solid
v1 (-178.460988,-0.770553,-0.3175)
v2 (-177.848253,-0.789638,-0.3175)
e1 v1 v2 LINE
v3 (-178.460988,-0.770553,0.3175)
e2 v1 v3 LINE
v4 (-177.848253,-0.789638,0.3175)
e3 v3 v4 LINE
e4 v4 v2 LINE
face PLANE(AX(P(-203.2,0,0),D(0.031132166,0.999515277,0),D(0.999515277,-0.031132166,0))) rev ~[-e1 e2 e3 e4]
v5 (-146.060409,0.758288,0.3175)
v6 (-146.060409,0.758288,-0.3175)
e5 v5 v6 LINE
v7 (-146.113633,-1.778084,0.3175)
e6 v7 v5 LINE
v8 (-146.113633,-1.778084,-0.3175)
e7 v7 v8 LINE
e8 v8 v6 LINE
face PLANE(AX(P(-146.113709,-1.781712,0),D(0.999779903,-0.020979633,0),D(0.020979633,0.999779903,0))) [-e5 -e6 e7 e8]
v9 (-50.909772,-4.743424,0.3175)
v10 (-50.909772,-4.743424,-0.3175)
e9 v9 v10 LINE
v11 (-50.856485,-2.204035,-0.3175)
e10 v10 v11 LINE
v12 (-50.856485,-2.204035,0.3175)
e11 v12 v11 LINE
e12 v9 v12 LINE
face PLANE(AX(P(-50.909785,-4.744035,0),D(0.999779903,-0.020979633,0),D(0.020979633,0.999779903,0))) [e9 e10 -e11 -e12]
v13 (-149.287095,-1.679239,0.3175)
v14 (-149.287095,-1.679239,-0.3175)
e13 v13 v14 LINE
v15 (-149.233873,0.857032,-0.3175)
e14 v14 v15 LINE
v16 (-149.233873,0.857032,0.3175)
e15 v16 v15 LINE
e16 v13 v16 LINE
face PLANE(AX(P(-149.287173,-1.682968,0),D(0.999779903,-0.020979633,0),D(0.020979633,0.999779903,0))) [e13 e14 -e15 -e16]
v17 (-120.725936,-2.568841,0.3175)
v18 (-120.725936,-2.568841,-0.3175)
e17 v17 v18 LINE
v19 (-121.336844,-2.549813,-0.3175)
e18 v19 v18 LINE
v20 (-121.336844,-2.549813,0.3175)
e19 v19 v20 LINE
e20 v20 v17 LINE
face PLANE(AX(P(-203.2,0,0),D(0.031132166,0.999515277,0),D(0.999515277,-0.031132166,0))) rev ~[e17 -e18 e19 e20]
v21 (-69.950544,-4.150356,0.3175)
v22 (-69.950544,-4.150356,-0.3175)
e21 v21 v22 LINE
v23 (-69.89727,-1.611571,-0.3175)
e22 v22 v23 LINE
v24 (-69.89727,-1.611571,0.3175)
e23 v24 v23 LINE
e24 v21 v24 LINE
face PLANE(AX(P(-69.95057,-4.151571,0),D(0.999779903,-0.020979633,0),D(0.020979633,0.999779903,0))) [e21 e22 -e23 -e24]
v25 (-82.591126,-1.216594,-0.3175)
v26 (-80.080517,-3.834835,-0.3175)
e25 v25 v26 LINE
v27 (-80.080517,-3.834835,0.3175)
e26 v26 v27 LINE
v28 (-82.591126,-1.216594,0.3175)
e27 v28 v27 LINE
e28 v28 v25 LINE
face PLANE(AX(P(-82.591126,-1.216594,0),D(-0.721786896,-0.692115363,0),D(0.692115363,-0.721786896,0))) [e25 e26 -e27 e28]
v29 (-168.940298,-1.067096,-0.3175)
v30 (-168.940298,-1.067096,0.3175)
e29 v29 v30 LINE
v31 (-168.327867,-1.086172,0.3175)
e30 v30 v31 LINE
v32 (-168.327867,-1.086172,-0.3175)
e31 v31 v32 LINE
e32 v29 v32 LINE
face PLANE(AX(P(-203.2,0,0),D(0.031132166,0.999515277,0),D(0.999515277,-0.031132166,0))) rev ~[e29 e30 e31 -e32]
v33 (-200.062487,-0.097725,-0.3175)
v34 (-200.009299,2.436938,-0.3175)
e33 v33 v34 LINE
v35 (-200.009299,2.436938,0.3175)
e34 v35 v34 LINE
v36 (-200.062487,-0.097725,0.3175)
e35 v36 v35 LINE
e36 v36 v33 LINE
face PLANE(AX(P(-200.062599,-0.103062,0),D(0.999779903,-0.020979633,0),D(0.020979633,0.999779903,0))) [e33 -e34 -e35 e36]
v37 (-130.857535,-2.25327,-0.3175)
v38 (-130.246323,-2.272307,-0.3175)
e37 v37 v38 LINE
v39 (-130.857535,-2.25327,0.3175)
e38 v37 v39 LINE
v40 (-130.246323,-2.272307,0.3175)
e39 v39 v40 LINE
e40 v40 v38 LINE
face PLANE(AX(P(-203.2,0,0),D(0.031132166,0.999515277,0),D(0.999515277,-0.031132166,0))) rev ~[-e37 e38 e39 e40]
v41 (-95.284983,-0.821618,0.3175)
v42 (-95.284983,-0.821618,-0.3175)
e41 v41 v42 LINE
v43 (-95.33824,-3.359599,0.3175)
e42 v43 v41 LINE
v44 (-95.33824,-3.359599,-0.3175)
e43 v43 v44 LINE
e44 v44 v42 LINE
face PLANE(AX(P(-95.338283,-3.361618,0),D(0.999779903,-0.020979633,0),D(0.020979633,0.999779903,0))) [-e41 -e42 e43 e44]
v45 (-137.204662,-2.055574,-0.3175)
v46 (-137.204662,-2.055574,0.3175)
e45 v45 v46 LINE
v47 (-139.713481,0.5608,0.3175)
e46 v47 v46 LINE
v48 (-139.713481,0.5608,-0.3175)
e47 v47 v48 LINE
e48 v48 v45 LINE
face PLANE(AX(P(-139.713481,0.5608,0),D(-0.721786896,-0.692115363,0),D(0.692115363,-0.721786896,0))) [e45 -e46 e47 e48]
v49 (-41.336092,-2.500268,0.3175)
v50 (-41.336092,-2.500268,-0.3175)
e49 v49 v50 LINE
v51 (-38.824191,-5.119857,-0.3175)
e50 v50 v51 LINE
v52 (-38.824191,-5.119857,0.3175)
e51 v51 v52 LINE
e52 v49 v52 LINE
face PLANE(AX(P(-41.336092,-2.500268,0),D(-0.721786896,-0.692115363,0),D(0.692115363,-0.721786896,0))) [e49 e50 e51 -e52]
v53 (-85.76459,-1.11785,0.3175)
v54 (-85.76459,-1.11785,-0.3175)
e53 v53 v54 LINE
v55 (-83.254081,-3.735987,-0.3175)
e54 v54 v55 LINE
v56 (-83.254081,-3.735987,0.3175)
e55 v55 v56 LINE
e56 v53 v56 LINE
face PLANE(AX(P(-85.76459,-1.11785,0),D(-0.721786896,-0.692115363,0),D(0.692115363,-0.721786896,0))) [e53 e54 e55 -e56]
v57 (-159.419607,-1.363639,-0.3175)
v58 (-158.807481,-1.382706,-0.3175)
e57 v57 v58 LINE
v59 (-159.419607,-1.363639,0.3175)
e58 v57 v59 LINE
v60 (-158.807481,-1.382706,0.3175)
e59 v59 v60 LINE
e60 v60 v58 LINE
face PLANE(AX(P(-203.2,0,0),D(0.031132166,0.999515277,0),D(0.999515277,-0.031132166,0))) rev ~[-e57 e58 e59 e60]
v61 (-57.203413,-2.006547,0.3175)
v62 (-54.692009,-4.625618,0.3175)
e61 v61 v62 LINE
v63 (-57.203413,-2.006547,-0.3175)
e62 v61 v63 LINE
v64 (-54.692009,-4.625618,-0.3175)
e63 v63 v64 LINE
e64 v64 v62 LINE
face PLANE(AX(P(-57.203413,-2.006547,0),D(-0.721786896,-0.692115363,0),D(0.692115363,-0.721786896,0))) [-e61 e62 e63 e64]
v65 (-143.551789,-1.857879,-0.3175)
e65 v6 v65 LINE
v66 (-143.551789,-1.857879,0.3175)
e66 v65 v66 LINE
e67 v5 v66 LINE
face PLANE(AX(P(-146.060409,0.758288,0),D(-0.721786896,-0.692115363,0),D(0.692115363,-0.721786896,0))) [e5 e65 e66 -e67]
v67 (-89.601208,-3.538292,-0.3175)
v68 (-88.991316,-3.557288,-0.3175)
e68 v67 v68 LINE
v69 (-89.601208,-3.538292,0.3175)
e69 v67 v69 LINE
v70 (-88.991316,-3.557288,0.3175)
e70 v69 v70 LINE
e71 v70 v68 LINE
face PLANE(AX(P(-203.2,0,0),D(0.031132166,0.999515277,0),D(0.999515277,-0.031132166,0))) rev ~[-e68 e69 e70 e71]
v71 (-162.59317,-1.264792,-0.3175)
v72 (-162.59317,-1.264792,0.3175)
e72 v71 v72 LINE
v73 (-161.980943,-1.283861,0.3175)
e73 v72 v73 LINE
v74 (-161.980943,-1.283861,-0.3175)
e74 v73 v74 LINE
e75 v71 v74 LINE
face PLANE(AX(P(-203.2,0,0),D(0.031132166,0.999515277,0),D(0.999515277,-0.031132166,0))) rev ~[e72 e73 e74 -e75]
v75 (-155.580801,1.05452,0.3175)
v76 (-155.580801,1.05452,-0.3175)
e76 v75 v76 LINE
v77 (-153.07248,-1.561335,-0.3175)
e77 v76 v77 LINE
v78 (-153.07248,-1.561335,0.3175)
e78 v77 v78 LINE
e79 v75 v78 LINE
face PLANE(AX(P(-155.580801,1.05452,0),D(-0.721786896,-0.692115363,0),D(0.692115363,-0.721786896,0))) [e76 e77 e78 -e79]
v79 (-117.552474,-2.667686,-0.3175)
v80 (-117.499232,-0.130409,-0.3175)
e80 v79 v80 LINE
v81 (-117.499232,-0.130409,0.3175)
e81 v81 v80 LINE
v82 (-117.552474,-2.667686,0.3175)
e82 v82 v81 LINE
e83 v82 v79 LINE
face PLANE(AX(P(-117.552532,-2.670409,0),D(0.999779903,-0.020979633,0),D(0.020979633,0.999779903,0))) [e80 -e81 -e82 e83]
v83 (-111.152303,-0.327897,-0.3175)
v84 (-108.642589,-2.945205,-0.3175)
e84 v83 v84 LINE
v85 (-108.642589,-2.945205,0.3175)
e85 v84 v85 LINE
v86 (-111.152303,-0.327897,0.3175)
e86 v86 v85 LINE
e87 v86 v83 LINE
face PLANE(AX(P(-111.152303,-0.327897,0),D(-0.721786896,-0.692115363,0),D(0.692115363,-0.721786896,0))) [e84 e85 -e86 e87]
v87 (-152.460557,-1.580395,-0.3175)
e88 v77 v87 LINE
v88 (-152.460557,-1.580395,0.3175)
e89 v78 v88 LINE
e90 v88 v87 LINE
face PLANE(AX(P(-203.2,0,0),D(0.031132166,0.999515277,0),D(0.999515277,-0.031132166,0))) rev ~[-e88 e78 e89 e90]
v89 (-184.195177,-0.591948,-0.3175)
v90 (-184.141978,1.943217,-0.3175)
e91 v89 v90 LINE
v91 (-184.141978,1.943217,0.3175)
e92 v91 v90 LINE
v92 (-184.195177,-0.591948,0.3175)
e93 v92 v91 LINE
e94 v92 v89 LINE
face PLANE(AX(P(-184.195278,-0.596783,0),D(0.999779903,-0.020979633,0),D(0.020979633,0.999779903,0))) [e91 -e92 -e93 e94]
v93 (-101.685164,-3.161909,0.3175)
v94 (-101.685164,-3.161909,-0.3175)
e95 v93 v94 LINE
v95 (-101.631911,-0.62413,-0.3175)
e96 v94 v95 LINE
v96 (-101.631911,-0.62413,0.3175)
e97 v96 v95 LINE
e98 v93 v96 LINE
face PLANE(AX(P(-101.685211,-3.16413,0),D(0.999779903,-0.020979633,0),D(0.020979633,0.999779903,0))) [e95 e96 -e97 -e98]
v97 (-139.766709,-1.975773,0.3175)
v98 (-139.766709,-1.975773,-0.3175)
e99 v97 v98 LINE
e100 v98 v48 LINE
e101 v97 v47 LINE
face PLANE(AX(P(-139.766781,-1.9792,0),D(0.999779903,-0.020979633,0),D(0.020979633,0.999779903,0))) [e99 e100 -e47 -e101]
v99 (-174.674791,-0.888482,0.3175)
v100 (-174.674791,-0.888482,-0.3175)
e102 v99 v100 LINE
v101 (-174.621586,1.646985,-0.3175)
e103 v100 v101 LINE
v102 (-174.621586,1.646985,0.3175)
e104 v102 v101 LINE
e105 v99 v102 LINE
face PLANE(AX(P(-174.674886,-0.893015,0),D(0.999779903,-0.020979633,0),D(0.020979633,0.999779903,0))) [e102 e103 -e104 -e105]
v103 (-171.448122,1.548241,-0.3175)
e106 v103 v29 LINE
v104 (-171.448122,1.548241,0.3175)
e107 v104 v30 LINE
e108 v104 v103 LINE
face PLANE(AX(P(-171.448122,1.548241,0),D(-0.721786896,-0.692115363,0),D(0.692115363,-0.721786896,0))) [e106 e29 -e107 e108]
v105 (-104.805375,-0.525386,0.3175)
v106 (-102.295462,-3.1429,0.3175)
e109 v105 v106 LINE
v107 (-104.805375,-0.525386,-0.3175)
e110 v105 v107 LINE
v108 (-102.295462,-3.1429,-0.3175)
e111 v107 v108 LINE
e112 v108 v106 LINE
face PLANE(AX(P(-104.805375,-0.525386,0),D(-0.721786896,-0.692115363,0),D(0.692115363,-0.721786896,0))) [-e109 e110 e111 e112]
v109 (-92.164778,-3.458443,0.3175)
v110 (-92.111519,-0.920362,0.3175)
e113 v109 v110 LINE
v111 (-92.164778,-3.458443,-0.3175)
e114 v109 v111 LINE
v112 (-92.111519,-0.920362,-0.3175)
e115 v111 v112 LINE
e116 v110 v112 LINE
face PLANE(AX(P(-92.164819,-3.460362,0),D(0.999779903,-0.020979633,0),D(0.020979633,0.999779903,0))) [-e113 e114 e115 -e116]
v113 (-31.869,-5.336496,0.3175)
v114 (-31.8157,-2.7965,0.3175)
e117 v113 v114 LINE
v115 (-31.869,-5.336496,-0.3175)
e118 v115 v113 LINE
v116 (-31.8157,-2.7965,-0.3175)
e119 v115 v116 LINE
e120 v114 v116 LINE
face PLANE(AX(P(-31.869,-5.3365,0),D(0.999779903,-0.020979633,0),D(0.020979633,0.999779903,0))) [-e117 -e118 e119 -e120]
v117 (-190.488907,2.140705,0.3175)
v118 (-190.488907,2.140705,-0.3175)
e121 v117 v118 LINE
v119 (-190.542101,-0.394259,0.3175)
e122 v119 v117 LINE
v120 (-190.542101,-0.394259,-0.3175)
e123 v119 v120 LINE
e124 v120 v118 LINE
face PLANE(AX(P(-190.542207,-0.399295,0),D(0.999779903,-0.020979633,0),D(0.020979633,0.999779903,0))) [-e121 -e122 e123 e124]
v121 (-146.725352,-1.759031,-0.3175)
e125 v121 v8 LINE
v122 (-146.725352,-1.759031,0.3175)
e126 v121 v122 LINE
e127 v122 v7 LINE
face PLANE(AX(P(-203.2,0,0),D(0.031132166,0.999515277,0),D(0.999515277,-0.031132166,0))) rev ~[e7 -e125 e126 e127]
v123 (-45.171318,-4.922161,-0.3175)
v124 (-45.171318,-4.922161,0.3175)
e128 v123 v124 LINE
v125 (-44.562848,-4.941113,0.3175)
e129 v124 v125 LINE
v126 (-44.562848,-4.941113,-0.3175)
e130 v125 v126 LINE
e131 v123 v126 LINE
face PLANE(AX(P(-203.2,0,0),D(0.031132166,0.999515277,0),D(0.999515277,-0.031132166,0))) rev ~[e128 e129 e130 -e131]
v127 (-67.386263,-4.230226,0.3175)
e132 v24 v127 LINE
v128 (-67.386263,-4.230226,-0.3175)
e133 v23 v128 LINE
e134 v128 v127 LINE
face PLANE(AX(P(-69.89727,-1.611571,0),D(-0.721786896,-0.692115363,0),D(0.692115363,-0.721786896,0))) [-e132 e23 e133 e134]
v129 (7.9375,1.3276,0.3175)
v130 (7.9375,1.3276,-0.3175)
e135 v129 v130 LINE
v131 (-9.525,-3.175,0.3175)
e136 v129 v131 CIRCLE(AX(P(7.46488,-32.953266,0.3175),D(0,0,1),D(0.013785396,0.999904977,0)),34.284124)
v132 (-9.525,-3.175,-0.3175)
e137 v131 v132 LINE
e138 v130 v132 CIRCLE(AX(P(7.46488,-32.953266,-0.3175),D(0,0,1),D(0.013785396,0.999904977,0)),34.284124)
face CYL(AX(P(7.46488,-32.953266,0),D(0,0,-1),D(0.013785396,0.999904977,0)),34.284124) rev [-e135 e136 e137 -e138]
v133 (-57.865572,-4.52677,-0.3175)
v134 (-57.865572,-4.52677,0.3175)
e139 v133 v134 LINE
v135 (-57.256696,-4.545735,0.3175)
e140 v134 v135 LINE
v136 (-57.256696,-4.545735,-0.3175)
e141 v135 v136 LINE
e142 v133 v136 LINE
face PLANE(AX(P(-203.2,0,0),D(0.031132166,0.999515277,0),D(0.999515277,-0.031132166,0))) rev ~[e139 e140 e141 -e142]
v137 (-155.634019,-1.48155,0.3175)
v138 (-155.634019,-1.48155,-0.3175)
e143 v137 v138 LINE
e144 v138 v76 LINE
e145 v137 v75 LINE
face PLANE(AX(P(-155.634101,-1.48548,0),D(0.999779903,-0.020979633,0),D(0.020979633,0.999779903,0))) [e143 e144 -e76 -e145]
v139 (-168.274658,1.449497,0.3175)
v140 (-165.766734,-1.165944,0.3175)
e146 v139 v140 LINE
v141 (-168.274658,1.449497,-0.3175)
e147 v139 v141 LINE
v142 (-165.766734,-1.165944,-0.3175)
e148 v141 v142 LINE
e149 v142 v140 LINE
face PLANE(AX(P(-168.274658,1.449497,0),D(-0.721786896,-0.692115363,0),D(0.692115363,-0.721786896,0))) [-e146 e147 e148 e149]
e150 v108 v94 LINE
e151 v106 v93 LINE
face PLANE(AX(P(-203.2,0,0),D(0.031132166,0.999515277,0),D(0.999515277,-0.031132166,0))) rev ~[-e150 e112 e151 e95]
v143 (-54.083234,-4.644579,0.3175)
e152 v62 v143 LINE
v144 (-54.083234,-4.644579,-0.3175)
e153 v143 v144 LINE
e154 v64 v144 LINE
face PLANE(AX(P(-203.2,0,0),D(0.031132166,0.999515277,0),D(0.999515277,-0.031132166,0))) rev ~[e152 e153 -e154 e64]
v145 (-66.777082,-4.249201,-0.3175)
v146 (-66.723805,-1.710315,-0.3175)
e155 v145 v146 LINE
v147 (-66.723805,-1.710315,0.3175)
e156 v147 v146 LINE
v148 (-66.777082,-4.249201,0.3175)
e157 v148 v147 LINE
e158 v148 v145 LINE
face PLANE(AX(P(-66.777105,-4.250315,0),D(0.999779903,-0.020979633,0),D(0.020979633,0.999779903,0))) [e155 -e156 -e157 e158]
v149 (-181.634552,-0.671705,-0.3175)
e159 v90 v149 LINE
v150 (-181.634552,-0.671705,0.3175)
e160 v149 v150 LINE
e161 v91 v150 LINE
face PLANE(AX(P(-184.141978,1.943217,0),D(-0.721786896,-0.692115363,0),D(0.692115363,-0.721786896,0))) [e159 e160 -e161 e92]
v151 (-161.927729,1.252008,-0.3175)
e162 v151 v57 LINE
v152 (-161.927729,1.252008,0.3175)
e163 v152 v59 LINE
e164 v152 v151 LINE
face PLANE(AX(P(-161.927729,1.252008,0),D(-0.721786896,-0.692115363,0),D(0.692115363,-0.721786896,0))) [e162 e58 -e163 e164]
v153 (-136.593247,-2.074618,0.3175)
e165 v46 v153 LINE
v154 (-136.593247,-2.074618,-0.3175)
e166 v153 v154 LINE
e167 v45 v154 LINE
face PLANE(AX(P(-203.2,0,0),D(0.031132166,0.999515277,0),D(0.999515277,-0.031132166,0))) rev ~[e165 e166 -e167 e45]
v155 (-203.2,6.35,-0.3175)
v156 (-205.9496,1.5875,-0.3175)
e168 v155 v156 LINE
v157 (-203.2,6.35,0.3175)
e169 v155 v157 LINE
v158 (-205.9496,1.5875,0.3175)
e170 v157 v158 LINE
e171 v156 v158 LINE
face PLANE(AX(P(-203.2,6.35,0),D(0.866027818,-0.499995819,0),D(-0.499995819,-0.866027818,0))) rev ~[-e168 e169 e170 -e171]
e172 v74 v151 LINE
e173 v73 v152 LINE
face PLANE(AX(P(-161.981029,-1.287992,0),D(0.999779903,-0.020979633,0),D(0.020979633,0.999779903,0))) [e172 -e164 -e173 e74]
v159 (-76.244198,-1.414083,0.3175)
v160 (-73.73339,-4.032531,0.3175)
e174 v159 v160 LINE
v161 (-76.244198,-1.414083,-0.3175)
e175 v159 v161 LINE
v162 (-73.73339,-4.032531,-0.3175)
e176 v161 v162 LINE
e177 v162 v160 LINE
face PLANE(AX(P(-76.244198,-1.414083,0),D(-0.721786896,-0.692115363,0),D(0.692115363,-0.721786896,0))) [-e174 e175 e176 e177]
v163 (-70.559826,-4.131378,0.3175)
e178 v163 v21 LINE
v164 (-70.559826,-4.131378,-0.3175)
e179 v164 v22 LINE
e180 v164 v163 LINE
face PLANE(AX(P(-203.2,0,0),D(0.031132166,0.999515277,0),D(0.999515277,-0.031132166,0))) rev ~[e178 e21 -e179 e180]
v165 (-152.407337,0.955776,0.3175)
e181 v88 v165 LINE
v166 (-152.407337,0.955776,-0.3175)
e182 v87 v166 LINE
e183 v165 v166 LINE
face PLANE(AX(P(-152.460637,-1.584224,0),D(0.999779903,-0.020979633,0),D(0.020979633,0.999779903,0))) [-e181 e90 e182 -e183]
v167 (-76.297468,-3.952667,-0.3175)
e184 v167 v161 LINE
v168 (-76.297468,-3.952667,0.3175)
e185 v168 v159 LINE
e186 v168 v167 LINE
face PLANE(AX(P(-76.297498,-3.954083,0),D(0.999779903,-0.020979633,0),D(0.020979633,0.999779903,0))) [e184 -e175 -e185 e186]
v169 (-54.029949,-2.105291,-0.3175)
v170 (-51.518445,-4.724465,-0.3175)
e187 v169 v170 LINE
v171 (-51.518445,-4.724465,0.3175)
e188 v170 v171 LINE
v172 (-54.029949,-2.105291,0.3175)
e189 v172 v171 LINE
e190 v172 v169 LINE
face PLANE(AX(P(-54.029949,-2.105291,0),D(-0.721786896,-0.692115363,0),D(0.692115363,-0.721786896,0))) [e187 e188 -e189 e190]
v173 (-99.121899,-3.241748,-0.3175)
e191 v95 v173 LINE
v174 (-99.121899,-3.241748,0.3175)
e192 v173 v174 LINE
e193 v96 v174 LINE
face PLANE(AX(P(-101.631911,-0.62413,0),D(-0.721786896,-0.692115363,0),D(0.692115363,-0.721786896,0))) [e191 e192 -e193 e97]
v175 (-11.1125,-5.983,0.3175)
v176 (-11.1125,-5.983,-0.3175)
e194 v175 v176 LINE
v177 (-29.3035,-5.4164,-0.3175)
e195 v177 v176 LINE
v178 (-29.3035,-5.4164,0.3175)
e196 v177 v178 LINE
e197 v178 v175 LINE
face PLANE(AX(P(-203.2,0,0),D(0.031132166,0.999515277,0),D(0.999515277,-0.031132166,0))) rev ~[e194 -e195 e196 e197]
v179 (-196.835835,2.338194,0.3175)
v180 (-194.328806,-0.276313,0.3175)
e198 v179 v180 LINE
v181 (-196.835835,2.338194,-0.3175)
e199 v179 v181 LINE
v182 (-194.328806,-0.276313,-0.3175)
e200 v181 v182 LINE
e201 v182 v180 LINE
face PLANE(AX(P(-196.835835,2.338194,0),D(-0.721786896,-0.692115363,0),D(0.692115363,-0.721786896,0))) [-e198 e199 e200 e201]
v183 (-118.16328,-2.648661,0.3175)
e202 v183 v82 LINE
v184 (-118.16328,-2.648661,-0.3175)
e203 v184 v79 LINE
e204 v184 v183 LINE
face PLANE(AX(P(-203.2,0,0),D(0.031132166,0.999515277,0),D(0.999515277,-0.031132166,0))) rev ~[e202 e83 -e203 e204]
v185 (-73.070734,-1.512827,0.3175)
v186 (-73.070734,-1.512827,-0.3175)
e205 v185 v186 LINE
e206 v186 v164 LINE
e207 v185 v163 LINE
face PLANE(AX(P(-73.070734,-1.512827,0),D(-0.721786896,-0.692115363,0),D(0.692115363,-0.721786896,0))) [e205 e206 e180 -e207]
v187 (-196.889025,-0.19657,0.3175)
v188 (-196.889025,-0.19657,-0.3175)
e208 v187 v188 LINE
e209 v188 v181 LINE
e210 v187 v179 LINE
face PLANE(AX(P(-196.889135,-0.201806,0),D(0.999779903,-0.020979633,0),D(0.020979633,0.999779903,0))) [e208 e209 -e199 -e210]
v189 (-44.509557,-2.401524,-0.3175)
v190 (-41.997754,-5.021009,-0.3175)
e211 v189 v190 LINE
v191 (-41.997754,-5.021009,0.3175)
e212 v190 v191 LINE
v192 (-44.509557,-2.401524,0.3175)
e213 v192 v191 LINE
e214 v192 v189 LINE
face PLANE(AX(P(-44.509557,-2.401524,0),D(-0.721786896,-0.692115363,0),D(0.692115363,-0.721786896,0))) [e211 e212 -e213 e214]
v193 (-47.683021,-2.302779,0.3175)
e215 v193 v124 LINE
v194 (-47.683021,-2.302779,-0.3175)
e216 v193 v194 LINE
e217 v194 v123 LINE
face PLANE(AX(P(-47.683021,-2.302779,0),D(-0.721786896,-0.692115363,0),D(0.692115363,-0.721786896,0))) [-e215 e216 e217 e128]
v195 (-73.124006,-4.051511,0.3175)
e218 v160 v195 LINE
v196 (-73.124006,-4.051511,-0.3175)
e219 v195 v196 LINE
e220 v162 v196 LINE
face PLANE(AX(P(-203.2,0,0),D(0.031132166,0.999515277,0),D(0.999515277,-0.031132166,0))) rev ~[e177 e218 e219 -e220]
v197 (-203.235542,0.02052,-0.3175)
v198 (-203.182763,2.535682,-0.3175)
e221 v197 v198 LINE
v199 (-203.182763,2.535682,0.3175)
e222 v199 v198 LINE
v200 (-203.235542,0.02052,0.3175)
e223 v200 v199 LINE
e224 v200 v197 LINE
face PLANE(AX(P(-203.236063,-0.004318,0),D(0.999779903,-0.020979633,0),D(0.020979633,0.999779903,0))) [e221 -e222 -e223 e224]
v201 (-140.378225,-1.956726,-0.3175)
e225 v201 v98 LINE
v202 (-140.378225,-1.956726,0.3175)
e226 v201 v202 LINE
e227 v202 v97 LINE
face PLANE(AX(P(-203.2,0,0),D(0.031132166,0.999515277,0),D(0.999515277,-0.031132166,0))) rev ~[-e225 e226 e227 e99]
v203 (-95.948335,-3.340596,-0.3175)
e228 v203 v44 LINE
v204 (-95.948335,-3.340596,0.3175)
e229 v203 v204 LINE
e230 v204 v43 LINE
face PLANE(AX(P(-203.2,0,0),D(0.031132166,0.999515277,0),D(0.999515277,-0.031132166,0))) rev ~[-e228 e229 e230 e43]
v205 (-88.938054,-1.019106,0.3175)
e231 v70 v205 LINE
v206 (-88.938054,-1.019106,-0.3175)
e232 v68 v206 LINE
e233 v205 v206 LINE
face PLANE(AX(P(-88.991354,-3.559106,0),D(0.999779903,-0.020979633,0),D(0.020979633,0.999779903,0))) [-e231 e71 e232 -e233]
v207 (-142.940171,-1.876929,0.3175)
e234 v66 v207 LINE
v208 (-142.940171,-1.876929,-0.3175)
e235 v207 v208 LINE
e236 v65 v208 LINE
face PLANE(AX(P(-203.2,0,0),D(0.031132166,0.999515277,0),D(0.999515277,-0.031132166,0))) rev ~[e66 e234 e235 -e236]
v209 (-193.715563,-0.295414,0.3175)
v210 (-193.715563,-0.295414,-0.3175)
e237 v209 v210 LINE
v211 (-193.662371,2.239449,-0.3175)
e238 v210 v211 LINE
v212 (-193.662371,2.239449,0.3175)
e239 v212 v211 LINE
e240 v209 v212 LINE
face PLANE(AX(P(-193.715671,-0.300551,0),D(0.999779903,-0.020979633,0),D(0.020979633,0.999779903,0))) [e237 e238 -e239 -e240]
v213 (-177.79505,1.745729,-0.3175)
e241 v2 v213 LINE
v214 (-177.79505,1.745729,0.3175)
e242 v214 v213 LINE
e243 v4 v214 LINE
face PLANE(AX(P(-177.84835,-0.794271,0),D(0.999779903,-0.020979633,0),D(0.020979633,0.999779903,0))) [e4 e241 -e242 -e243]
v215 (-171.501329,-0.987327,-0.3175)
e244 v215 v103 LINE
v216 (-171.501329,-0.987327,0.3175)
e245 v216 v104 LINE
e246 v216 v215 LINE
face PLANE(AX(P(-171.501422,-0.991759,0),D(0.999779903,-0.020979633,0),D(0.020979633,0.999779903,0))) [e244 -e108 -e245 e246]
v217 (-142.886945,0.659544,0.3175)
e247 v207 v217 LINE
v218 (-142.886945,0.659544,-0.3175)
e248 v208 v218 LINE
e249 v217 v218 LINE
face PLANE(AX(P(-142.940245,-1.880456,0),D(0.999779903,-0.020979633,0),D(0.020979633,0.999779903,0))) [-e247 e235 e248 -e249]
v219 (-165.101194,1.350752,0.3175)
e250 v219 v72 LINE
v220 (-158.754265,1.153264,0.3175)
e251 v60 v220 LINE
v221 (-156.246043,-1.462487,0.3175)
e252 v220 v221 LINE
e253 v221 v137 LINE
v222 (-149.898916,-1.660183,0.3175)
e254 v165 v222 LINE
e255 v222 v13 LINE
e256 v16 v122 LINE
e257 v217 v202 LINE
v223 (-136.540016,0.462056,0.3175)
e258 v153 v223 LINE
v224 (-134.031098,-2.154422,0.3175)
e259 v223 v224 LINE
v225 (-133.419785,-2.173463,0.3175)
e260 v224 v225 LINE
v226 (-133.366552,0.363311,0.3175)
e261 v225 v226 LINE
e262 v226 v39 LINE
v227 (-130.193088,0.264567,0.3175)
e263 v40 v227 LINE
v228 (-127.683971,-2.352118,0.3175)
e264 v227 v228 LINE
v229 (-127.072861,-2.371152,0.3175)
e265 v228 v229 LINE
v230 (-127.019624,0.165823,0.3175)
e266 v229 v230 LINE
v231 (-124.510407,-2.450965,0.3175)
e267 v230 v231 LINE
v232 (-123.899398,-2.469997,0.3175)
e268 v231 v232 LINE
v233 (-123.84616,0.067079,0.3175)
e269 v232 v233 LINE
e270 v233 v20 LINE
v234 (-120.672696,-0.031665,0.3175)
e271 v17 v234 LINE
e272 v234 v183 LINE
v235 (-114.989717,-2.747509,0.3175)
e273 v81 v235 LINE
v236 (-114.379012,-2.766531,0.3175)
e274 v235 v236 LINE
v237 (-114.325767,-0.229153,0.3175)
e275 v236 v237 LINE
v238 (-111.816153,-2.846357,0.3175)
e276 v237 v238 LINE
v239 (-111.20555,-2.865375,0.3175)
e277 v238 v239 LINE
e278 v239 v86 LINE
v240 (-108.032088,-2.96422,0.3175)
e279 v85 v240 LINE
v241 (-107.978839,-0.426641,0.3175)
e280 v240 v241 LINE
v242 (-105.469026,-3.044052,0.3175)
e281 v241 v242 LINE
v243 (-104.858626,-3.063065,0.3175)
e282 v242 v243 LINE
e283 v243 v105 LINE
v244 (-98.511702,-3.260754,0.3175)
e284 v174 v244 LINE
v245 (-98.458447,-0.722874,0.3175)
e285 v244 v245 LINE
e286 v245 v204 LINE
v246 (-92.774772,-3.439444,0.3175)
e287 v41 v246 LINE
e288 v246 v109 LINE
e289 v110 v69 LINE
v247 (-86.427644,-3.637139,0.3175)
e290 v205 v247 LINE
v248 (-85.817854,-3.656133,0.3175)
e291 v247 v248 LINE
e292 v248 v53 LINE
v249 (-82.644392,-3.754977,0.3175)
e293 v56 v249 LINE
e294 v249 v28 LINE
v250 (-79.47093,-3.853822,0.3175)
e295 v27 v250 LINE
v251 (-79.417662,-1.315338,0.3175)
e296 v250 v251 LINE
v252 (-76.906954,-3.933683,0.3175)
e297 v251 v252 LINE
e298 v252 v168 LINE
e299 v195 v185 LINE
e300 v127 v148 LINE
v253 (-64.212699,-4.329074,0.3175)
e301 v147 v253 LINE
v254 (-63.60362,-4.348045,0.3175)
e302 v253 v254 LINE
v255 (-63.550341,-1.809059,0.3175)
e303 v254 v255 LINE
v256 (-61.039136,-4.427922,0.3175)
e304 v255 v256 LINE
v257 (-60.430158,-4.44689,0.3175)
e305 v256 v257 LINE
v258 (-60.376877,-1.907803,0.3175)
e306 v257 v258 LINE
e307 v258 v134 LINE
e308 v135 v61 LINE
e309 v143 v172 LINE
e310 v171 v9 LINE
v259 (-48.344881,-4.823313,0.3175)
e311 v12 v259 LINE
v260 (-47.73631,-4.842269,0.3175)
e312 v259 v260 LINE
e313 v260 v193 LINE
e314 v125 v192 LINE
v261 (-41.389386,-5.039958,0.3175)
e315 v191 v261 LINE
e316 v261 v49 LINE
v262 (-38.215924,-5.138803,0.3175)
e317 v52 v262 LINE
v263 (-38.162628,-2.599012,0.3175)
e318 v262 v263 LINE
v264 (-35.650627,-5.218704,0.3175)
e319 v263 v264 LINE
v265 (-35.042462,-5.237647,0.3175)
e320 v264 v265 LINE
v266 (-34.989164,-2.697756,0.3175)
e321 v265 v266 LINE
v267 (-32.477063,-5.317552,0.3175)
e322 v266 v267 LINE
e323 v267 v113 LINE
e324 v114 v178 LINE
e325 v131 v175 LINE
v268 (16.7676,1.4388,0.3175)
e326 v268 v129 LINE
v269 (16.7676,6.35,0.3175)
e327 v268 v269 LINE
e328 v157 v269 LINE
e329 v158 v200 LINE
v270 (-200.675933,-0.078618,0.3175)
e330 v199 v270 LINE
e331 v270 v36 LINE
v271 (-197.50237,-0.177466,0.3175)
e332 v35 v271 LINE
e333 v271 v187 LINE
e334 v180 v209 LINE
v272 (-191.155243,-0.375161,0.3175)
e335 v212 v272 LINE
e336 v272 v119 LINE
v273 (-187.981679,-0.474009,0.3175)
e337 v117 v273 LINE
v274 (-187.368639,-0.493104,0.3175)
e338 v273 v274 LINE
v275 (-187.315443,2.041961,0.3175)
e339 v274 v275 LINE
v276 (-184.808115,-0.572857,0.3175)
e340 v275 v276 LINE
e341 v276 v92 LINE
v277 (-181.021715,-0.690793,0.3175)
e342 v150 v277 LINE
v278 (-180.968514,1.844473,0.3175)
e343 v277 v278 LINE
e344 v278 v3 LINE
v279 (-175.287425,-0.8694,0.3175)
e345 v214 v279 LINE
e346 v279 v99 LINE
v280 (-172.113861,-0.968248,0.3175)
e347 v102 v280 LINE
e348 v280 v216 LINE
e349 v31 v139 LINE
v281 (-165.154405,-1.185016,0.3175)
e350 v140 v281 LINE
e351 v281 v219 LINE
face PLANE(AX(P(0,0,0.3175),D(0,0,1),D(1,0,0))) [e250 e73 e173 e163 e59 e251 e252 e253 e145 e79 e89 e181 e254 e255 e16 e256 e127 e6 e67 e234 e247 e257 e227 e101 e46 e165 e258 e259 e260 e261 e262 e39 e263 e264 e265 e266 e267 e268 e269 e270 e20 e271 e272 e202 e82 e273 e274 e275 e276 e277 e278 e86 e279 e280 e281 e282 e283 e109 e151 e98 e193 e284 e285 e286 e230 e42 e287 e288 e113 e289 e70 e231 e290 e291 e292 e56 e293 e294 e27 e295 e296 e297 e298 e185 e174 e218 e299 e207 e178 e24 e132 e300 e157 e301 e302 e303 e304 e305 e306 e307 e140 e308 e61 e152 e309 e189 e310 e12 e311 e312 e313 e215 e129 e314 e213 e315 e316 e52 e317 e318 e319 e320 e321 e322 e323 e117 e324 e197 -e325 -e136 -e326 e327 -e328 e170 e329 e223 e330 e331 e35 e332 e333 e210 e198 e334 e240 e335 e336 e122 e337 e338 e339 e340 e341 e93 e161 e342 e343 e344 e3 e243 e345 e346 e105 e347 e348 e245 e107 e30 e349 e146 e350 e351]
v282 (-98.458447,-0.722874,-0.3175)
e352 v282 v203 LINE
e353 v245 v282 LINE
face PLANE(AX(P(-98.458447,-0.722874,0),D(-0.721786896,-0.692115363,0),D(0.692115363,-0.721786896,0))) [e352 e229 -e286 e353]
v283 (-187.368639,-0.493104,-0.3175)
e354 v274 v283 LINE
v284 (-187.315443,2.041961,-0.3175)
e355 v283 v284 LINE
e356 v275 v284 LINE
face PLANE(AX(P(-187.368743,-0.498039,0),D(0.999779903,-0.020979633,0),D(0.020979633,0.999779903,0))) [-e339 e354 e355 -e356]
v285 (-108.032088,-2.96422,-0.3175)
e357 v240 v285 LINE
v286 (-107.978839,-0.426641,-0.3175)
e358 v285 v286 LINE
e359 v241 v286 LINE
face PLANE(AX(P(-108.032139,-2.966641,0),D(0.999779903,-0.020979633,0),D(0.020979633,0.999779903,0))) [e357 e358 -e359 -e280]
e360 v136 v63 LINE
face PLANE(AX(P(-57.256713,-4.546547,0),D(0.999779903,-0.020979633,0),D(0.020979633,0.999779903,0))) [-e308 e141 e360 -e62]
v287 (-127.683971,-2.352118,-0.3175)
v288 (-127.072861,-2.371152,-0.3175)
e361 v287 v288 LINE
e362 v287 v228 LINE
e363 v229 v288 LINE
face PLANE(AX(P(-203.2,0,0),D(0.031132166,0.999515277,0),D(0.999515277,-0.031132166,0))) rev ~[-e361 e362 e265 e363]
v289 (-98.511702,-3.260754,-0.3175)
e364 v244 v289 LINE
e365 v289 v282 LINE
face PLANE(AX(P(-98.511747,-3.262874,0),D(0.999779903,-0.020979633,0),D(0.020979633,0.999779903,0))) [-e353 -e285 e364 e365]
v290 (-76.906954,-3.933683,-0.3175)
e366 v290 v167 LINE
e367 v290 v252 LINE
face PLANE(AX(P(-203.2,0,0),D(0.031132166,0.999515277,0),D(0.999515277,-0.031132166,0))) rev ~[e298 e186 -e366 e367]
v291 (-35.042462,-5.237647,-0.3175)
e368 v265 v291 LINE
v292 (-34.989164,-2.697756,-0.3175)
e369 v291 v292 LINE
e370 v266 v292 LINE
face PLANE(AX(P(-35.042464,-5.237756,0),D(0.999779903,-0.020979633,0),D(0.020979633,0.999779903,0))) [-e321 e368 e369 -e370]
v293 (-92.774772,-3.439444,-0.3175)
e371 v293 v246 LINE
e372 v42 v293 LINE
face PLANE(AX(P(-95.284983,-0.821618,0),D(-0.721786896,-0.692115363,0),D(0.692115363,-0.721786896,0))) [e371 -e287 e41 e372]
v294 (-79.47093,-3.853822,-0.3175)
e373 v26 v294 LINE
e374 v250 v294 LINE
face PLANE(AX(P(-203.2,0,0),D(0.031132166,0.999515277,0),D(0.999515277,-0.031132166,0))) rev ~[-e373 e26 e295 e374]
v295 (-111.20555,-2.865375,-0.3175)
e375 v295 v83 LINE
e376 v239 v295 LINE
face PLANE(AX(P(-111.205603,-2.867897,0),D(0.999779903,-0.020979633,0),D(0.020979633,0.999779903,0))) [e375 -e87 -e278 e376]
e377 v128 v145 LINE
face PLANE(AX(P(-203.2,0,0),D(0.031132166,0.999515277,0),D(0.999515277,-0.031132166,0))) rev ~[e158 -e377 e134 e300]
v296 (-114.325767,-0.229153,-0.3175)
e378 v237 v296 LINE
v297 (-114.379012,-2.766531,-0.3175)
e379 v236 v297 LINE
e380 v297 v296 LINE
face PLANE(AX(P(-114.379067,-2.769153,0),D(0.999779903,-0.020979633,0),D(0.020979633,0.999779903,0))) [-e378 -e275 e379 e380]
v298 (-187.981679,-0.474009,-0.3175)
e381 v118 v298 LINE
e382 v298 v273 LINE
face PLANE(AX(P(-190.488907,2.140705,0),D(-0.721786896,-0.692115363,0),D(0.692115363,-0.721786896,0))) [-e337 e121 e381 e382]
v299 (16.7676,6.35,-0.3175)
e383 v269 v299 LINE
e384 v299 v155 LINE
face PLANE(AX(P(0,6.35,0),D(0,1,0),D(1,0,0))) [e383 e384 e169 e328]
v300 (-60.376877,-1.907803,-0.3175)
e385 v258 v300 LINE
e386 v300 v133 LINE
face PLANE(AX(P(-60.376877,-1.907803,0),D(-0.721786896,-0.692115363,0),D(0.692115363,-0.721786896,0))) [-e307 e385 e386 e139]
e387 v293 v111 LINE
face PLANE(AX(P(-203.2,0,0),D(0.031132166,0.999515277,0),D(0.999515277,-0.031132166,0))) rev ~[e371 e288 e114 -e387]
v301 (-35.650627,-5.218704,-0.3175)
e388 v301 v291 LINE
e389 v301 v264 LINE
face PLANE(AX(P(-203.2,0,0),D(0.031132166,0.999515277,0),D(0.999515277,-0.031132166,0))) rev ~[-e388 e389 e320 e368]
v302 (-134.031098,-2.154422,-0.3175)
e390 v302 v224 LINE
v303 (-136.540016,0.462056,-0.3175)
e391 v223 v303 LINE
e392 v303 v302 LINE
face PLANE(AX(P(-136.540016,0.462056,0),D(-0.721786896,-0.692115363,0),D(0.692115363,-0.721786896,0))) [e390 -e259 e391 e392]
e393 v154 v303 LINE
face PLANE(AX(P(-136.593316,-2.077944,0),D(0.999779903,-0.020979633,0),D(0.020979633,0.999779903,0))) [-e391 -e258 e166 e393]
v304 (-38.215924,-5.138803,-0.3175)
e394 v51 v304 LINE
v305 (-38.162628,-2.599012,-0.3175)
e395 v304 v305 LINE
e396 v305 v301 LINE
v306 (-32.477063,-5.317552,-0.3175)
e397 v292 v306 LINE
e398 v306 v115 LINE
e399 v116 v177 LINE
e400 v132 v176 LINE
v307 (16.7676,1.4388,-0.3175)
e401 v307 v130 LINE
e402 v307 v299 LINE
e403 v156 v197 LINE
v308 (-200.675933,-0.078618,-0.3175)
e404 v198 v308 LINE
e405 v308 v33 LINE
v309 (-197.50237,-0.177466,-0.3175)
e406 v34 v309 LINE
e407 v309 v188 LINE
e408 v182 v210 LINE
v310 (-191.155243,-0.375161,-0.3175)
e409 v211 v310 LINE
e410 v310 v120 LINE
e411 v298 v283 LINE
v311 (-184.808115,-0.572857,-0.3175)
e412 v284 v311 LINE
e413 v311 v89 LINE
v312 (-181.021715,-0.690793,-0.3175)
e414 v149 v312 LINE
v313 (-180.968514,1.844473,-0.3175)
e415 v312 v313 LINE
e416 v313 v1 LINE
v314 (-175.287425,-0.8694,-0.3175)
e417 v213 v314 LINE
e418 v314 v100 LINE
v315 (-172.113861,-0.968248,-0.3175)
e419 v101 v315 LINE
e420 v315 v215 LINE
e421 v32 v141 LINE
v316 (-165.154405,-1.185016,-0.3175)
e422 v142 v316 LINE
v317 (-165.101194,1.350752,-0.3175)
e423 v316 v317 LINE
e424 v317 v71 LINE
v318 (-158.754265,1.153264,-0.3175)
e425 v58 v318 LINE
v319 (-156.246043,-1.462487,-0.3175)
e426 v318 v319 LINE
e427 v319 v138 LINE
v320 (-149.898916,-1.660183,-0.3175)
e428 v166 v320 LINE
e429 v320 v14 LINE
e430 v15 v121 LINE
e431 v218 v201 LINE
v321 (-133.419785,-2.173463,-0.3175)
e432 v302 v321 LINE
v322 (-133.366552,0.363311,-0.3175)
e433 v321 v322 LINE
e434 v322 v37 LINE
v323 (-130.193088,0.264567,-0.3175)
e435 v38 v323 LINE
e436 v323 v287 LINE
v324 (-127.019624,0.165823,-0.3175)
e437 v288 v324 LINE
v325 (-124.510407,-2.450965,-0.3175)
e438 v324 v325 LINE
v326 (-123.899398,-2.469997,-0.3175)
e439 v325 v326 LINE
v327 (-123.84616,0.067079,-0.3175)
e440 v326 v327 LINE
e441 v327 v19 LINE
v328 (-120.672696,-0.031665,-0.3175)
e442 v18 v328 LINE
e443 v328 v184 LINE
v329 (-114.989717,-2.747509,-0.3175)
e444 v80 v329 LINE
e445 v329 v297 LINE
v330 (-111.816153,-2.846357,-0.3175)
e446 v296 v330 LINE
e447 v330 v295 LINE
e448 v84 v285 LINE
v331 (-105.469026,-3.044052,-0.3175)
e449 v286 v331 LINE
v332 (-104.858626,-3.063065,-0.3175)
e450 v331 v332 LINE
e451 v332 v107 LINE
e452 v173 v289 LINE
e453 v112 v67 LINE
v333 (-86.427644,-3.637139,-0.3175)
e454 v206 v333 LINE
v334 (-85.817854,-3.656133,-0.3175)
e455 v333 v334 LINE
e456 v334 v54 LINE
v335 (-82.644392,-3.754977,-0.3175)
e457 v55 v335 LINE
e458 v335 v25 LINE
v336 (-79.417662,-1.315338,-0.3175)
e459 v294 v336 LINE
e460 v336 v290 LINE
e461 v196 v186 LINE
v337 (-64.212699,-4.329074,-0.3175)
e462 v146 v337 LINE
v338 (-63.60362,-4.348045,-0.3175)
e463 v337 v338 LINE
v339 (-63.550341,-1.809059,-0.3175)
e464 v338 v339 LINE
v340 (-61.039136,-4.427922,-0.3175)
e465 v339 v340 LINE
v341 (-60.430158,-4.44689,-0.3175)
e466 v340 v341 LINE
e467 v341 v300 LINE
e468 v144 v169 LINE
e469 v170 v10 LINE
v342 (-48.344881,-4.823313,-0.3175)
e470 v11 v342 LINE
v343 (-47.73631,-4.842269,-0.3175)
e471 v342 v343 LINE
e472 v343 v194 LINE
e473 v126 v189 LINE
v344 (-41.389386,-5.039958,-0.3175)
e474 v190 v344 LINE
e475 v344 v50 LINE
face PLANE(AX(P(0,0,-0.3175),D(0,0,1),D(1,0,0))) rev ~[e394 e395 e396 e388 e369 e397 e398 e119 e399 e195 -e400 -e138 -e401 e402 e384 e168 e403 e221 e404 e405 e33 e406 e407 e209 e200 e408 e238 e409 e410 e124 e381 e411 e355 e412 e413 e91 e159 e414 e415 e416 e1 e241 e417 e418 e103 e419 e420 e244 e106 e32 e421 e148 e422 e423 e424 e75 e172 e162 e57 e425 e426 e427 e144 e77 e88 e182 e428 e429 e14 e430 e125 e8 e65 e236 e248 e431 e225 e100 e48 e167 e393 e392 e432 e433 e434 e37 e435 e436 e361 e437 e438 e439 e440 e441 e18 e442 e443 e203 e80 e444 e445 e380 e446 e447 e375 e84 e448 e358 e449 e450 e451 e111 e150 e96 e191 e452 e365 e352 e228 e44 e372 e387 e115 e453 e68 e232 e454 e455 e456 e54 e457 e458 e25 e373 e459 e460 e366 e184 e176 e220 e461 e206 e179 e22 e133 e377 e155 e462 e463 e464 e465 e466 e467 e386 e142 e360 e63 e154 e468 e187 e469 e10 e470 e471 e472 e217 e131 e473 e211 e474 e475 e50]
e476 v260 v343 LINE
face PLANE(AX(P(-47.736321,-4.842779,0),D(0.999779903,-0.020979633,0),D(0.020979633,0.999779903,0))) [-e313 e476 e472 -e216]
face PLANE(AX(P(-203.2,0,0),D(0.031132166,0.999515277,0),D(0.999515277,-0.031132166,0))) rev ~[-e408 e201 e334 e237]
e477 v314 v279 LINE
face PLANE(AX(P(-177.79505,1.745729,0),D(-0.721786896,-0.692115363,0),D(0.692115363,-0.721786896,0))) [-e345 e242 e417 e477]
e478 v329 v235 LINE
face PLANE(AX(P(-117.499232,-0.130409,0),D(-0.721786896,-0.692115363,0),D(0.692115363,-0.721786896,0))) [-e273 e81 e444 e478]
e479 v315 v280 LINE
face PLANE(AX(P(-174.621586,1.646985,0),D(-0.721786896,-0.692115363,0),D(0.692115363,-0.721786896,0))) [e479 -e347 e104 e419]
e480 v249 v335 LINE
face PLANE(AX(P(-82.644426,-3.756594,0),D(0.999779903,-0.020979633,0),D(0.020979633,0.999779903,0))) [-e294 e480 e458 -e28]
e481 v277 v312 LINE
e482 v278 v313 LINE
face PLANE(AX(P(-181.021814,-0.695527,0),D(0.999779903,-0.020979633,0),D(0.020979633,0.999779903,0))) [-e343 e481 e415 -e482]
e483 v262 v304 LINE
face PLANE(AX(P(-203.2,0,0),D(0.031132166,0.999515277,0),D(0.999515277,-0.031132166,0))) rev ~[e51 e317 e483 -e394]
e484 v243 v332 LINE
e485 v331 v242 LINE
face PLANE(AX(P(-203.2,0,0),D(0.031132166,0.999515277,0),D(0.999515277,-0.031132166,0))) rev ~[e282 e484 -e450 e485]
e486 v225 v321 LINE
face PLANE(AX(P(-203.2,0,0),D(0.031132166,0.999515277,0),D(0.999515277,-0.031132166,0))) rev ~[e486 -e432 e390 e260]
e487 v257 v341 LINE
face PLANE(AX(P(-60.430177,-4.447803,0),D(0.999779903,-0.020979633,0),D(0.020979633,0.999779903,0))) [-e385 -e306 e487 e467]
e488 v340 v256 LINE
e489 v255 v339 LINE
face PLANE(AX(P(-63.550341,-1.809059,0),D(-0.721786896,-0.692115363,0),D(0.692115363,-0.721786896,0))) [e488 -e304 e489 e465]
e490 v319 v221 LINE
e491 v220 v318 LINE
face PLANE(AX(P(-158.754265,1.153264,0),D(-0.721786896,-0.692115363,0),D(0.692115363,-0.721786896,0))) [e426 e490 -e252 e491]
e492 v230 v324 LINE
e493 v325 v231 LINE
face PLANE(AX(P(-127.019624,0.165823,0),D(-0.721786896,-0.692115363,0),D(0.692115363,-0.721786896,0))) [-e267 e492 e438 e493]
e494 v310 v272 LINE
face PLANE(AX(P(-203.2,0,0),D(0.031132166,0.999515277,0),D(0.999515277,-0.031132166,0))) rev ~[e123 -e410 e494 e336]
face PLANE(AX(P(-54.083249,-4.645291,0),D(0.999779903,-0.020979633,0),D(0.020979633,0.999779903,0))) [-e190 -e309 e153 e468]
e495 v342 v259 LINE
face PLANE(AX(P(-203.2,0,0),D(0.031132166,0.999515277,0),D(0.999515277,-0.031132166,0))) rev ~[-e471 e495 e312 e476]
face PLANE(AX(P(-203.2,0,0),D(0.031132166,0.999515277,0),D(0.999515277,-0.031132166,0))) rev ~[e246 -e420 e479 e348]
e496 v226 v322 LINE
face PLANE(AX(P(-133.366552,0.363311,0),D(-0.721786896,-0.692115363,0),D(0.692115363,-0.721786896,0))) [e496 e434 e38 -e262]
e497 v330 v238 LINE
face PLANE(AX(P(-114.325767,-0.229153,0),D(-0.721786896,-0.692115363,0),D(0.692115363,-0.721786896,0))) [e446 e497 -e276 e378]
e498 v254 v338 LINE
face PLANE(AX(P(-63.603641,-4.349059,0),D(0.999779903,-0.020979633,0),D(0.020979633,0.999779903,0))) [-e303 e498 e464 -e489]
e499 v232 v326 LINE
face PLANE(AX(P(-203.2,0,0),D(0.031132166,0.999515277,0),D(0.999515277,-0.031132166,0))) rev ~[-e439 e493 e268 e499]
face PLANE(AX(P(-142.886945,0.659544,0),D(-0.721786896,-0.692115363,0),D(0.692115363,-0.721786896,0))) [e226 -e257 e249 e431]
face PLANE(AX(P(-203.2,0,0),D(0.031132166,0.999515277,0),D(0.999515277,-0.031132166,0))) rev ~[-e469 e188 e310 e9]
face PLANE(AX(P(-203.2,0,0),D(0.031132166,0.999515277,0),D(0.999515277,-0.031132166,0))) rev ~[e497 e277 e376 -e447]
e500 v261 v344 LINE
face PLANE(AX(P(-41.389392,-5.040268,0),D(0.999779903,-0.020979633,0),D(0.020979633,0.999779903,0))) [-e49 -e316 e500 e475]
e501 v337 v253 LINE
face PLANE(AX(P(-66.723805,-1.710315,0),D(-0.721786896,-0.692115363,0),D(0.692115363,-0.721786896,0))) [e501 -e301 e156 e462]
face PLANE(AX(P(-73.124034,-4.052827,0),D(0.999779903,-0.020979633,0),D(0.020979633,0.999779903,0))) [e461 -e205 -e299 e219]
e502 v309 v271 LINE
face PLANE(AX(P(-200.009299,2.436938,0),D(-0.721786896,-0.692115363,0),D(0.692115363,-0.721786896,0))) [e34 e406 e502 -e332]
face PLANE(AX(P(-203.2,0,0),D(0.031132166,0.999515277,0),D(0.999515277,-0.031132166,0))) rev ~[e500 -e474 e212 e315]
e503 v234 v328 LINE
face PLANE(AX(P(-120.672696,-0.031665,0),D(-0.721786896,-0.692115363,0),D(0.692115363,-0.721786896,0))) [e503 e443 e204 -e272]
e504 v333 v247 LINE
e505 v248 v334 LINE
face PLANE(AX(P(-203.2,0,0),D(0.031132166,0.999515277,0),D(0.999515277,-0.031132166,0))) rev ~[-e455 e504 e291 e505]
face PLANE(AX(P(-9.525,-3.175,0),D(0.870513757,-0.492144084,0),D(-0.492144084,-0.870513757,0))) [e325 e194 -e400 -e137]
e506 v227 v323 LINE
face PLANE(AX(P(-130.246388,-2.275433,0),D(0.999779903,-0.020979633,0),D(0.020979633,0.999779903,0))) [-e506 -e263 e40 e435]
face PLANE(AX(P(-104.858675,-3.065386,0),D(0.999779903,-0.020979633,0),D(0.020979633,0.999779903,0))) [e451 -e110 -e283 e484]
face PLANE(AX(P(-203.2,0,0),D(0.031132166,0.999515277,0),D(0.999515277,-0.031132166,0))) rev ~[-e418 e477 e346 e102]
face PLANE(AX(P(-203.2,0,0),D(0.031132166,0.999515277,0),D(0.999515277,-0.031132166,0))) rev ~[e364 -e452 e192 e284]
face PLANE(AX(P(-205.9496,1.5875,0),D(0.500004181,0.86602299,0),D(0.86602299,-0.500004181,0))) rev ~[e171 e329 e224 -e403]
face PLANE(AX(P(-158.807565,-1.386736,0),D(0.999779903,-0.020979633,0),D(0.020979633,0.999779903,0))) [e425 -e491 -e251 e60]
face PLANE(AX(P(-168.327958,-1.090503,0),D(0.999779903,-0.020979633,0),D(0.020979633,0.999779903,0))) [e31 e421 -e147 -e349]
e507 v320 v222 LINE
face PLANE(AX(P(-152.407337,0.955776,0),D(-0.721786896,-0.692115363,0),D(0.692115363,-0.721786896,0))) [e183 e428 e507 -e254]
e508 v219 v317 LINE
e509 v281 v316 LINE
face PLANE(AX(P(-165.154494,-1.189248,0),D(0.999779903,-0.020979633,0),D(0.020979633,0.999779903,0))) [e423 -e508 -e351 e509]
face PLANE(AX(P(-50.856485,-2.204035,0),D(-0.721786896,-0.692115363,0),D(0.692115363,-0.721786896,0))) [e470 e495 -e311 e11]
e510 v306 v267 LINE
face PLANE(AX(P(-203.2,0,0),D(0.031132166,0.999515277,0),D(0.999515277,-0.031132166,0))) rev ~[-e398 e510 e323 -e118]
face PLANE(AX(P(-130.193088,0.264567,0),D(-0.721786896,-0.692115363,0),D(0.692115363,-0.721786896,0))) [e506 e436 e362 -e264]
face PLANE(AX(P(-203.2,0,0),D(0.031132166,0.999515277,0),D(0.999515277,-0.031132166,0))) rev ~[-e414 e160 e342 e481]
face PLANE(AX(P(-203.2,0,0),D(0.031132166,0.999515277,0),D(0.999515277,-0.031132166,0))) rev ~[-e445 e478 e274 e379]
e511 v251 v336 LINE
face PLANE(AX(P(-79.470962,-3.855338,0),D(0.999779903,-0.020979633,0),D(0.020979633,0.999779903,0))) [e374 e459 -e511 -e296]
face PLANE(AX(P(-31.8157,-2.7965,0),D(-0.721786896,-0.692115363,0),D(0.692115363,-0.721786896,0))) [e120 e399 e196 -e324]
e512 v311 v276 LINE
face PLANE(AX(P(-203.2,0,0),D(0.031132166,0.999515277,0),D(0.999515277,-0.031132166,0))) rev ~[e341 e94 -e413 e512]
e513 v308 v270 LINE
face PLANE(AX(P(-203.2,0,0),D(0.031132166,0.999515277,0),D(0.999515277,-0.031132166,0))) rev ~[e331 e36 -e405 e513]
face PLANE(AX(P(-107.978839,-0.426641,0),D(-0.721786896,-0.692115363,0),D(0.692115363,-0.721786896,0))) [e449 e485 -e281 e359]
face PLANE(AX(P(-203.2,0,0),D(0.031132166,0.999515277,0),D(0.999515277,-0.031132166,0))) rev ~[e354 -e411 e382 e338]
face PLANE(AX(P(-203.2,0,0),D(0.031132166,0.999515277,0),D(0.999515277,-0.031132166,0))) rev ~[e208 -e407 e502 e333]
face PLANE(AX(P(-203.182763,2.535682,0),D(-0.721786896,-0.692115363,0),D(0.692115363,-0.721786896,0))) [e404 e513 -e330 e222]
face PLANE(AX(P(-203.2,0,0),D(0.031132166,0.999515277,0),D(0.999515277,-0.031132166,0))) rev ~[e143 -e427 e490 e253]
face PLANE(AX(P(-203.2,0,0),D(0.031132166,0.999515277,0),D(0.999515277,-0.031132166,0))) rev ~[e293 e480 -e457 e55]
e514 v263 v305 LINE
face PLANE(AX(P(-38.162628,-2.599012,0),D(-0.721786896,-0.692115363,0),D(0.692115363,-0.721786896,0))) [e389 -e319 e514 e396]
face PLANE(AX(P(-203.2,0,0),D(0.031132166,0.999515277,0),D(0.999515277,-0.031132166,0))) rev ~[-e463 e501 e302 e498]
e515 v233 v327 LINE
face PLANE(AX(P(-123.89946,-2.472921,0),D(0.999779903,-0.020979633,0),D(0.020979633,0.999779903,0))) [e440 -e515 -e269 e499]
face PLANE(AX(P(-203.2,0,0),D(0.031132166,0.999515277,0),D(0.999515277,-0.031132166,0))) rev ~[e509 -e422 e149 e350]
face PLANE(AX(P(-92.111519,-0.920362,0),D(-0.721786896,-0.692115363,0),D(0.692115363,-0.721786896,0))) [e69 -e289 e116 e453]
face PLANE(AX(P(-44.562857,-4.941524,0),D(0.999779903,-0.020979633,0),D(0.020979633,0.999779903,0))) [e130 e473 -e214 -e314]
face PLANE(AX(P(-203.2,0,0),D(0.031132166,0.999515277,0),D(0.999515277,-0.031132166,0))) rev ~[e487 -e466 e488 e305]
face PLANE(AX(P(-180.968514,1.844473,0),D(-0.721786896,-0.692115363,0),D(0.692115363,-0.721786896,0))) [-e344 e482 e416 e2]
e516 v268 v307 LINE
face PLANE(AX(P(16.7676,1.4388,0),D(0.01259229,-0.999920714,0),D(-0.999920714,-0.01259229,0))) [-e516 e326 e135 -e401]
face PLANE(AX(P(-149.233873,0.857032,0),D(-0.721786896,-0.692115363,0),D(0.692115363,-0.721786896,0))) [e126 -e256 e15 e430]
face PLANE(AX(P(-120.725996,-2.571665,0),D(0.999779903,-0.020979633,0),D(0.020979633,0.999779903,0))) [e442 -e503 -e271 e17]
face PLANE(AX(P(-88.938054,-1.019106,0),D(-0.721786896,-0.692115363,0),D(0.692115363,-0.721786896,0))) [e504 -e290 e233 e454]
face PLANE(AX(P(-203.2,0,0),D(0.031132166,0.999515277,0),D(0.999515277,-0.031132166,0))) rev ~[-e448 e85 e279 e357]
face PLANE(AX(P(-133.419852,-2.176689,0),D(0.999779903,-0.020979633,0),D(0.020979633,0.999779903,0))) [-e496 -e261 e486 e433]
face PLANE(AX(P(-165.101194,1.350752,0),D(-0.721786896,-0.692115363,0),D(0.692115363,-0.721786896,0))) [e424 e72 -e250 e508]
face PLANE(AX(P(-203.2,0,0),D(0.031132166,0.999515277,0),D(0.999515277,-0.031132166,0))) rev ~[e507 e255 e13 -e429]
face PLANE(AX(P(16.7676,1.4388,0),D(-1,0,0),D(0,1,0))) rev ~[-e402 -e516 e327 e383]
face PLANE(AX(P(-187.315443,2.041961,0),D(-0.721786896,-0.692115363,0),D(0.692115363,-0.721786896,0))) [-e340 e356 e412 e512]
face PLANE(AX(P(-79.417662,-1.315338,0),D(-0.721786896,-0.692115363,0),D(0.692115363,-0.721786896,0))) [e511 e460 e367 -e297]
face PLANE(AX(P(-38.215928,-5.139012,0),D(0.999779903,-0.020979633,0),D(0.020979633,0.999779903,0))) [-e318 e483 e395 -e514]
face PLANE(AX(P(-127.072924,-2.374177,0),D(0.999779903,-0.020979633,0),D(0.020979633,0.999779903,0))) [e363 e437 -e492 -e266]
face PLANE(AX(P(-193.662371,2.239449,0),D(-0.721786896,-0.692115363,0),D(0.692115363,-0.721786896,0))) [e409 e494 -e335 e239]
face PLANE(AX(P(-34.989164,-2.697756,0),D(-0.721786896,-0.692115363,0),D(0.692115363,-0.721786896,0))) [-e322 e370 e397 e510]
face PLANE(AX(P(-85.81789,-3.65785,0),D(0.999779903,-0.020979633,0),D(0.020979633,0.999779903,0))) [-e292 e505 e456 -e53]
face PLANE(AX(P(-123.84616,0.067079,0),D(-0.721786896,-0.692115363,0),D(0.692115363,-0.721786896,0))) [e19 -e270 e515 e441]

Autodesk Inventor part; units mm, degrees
ref_plane "YZ Plane" through (0, 0, 0) normal (1, 0, 0) x (0, 1, 0)
ref_plane "XZ Plane" through (0, 0, 0) normal (0, 1, 0) x (-1, 0, 0)
ref_plane "XY Plane" through (0, 0, 0) normal (0, 0, 1) x (1, 0, 0)
sketch "Sketch1" plane through (0, 0, 0) normal (0, 0, 1) x (1, 0, 0)
  line L0 (0, 6.35) -> (-203.2, 6.35)
  line L1 (-203.2, 6.35) -> (-205.9496, 1.5875)
  line L2 (-203.2, 0) -> (-11.1125, -5.983)
  line L3 (-205.9496, 1.5875) -> (-203.2, 0)
  line L4 (0, 6.35) -> (16.7676, 6.35)
  line L5 (16.7676, 1.4388) -> (16.7676, 6.35)
  line L6 (16.7676, 1.4388) -> (7.9375, 1.3276)
  line L7 (-9.525, -3.175) -> (-11.1125, -5.983)
  arc A0 (7.9375, 1.3276) -> (-9.525, -3.175) centre (7.4648, -32.9526) ccw
  point P0 (0, 0)
  dimension "d2" = 120
  dimension "d3" = 203.2
  dimension "d6" = 6.35
extrude "Extrusion3" add sketch "Sketch1" along normal mid plane 0.635
sketch "Sketch2" plane through (0, 0, 0) normal (0, 0, 1) x (1, 0, 0)
  line L0 (-31.869, -5.3365) -> (-31.8157, -2.7965)
  line L1 (-31.8157, -2.7965) -> (-29.3035, -5.4164)
  line L2 (-11.1125, -5.983) -> (-203.2, 0) projected
  point P0 (0, 0)
  dimension "d7" = 31.75
  dimension "d8" = 2.54
  dimension "d9" = 45
extrude "Extrusion4" cut sketch "Sketch2" against normal mid plane 3.175
pattern_linear "Rectangular Pattern1" count 55 spacing 3.175 along (-0.9995, 0.0311, 0) of "Extrusion4"
properties part number "Saw blade" material "Alloy Steel"
